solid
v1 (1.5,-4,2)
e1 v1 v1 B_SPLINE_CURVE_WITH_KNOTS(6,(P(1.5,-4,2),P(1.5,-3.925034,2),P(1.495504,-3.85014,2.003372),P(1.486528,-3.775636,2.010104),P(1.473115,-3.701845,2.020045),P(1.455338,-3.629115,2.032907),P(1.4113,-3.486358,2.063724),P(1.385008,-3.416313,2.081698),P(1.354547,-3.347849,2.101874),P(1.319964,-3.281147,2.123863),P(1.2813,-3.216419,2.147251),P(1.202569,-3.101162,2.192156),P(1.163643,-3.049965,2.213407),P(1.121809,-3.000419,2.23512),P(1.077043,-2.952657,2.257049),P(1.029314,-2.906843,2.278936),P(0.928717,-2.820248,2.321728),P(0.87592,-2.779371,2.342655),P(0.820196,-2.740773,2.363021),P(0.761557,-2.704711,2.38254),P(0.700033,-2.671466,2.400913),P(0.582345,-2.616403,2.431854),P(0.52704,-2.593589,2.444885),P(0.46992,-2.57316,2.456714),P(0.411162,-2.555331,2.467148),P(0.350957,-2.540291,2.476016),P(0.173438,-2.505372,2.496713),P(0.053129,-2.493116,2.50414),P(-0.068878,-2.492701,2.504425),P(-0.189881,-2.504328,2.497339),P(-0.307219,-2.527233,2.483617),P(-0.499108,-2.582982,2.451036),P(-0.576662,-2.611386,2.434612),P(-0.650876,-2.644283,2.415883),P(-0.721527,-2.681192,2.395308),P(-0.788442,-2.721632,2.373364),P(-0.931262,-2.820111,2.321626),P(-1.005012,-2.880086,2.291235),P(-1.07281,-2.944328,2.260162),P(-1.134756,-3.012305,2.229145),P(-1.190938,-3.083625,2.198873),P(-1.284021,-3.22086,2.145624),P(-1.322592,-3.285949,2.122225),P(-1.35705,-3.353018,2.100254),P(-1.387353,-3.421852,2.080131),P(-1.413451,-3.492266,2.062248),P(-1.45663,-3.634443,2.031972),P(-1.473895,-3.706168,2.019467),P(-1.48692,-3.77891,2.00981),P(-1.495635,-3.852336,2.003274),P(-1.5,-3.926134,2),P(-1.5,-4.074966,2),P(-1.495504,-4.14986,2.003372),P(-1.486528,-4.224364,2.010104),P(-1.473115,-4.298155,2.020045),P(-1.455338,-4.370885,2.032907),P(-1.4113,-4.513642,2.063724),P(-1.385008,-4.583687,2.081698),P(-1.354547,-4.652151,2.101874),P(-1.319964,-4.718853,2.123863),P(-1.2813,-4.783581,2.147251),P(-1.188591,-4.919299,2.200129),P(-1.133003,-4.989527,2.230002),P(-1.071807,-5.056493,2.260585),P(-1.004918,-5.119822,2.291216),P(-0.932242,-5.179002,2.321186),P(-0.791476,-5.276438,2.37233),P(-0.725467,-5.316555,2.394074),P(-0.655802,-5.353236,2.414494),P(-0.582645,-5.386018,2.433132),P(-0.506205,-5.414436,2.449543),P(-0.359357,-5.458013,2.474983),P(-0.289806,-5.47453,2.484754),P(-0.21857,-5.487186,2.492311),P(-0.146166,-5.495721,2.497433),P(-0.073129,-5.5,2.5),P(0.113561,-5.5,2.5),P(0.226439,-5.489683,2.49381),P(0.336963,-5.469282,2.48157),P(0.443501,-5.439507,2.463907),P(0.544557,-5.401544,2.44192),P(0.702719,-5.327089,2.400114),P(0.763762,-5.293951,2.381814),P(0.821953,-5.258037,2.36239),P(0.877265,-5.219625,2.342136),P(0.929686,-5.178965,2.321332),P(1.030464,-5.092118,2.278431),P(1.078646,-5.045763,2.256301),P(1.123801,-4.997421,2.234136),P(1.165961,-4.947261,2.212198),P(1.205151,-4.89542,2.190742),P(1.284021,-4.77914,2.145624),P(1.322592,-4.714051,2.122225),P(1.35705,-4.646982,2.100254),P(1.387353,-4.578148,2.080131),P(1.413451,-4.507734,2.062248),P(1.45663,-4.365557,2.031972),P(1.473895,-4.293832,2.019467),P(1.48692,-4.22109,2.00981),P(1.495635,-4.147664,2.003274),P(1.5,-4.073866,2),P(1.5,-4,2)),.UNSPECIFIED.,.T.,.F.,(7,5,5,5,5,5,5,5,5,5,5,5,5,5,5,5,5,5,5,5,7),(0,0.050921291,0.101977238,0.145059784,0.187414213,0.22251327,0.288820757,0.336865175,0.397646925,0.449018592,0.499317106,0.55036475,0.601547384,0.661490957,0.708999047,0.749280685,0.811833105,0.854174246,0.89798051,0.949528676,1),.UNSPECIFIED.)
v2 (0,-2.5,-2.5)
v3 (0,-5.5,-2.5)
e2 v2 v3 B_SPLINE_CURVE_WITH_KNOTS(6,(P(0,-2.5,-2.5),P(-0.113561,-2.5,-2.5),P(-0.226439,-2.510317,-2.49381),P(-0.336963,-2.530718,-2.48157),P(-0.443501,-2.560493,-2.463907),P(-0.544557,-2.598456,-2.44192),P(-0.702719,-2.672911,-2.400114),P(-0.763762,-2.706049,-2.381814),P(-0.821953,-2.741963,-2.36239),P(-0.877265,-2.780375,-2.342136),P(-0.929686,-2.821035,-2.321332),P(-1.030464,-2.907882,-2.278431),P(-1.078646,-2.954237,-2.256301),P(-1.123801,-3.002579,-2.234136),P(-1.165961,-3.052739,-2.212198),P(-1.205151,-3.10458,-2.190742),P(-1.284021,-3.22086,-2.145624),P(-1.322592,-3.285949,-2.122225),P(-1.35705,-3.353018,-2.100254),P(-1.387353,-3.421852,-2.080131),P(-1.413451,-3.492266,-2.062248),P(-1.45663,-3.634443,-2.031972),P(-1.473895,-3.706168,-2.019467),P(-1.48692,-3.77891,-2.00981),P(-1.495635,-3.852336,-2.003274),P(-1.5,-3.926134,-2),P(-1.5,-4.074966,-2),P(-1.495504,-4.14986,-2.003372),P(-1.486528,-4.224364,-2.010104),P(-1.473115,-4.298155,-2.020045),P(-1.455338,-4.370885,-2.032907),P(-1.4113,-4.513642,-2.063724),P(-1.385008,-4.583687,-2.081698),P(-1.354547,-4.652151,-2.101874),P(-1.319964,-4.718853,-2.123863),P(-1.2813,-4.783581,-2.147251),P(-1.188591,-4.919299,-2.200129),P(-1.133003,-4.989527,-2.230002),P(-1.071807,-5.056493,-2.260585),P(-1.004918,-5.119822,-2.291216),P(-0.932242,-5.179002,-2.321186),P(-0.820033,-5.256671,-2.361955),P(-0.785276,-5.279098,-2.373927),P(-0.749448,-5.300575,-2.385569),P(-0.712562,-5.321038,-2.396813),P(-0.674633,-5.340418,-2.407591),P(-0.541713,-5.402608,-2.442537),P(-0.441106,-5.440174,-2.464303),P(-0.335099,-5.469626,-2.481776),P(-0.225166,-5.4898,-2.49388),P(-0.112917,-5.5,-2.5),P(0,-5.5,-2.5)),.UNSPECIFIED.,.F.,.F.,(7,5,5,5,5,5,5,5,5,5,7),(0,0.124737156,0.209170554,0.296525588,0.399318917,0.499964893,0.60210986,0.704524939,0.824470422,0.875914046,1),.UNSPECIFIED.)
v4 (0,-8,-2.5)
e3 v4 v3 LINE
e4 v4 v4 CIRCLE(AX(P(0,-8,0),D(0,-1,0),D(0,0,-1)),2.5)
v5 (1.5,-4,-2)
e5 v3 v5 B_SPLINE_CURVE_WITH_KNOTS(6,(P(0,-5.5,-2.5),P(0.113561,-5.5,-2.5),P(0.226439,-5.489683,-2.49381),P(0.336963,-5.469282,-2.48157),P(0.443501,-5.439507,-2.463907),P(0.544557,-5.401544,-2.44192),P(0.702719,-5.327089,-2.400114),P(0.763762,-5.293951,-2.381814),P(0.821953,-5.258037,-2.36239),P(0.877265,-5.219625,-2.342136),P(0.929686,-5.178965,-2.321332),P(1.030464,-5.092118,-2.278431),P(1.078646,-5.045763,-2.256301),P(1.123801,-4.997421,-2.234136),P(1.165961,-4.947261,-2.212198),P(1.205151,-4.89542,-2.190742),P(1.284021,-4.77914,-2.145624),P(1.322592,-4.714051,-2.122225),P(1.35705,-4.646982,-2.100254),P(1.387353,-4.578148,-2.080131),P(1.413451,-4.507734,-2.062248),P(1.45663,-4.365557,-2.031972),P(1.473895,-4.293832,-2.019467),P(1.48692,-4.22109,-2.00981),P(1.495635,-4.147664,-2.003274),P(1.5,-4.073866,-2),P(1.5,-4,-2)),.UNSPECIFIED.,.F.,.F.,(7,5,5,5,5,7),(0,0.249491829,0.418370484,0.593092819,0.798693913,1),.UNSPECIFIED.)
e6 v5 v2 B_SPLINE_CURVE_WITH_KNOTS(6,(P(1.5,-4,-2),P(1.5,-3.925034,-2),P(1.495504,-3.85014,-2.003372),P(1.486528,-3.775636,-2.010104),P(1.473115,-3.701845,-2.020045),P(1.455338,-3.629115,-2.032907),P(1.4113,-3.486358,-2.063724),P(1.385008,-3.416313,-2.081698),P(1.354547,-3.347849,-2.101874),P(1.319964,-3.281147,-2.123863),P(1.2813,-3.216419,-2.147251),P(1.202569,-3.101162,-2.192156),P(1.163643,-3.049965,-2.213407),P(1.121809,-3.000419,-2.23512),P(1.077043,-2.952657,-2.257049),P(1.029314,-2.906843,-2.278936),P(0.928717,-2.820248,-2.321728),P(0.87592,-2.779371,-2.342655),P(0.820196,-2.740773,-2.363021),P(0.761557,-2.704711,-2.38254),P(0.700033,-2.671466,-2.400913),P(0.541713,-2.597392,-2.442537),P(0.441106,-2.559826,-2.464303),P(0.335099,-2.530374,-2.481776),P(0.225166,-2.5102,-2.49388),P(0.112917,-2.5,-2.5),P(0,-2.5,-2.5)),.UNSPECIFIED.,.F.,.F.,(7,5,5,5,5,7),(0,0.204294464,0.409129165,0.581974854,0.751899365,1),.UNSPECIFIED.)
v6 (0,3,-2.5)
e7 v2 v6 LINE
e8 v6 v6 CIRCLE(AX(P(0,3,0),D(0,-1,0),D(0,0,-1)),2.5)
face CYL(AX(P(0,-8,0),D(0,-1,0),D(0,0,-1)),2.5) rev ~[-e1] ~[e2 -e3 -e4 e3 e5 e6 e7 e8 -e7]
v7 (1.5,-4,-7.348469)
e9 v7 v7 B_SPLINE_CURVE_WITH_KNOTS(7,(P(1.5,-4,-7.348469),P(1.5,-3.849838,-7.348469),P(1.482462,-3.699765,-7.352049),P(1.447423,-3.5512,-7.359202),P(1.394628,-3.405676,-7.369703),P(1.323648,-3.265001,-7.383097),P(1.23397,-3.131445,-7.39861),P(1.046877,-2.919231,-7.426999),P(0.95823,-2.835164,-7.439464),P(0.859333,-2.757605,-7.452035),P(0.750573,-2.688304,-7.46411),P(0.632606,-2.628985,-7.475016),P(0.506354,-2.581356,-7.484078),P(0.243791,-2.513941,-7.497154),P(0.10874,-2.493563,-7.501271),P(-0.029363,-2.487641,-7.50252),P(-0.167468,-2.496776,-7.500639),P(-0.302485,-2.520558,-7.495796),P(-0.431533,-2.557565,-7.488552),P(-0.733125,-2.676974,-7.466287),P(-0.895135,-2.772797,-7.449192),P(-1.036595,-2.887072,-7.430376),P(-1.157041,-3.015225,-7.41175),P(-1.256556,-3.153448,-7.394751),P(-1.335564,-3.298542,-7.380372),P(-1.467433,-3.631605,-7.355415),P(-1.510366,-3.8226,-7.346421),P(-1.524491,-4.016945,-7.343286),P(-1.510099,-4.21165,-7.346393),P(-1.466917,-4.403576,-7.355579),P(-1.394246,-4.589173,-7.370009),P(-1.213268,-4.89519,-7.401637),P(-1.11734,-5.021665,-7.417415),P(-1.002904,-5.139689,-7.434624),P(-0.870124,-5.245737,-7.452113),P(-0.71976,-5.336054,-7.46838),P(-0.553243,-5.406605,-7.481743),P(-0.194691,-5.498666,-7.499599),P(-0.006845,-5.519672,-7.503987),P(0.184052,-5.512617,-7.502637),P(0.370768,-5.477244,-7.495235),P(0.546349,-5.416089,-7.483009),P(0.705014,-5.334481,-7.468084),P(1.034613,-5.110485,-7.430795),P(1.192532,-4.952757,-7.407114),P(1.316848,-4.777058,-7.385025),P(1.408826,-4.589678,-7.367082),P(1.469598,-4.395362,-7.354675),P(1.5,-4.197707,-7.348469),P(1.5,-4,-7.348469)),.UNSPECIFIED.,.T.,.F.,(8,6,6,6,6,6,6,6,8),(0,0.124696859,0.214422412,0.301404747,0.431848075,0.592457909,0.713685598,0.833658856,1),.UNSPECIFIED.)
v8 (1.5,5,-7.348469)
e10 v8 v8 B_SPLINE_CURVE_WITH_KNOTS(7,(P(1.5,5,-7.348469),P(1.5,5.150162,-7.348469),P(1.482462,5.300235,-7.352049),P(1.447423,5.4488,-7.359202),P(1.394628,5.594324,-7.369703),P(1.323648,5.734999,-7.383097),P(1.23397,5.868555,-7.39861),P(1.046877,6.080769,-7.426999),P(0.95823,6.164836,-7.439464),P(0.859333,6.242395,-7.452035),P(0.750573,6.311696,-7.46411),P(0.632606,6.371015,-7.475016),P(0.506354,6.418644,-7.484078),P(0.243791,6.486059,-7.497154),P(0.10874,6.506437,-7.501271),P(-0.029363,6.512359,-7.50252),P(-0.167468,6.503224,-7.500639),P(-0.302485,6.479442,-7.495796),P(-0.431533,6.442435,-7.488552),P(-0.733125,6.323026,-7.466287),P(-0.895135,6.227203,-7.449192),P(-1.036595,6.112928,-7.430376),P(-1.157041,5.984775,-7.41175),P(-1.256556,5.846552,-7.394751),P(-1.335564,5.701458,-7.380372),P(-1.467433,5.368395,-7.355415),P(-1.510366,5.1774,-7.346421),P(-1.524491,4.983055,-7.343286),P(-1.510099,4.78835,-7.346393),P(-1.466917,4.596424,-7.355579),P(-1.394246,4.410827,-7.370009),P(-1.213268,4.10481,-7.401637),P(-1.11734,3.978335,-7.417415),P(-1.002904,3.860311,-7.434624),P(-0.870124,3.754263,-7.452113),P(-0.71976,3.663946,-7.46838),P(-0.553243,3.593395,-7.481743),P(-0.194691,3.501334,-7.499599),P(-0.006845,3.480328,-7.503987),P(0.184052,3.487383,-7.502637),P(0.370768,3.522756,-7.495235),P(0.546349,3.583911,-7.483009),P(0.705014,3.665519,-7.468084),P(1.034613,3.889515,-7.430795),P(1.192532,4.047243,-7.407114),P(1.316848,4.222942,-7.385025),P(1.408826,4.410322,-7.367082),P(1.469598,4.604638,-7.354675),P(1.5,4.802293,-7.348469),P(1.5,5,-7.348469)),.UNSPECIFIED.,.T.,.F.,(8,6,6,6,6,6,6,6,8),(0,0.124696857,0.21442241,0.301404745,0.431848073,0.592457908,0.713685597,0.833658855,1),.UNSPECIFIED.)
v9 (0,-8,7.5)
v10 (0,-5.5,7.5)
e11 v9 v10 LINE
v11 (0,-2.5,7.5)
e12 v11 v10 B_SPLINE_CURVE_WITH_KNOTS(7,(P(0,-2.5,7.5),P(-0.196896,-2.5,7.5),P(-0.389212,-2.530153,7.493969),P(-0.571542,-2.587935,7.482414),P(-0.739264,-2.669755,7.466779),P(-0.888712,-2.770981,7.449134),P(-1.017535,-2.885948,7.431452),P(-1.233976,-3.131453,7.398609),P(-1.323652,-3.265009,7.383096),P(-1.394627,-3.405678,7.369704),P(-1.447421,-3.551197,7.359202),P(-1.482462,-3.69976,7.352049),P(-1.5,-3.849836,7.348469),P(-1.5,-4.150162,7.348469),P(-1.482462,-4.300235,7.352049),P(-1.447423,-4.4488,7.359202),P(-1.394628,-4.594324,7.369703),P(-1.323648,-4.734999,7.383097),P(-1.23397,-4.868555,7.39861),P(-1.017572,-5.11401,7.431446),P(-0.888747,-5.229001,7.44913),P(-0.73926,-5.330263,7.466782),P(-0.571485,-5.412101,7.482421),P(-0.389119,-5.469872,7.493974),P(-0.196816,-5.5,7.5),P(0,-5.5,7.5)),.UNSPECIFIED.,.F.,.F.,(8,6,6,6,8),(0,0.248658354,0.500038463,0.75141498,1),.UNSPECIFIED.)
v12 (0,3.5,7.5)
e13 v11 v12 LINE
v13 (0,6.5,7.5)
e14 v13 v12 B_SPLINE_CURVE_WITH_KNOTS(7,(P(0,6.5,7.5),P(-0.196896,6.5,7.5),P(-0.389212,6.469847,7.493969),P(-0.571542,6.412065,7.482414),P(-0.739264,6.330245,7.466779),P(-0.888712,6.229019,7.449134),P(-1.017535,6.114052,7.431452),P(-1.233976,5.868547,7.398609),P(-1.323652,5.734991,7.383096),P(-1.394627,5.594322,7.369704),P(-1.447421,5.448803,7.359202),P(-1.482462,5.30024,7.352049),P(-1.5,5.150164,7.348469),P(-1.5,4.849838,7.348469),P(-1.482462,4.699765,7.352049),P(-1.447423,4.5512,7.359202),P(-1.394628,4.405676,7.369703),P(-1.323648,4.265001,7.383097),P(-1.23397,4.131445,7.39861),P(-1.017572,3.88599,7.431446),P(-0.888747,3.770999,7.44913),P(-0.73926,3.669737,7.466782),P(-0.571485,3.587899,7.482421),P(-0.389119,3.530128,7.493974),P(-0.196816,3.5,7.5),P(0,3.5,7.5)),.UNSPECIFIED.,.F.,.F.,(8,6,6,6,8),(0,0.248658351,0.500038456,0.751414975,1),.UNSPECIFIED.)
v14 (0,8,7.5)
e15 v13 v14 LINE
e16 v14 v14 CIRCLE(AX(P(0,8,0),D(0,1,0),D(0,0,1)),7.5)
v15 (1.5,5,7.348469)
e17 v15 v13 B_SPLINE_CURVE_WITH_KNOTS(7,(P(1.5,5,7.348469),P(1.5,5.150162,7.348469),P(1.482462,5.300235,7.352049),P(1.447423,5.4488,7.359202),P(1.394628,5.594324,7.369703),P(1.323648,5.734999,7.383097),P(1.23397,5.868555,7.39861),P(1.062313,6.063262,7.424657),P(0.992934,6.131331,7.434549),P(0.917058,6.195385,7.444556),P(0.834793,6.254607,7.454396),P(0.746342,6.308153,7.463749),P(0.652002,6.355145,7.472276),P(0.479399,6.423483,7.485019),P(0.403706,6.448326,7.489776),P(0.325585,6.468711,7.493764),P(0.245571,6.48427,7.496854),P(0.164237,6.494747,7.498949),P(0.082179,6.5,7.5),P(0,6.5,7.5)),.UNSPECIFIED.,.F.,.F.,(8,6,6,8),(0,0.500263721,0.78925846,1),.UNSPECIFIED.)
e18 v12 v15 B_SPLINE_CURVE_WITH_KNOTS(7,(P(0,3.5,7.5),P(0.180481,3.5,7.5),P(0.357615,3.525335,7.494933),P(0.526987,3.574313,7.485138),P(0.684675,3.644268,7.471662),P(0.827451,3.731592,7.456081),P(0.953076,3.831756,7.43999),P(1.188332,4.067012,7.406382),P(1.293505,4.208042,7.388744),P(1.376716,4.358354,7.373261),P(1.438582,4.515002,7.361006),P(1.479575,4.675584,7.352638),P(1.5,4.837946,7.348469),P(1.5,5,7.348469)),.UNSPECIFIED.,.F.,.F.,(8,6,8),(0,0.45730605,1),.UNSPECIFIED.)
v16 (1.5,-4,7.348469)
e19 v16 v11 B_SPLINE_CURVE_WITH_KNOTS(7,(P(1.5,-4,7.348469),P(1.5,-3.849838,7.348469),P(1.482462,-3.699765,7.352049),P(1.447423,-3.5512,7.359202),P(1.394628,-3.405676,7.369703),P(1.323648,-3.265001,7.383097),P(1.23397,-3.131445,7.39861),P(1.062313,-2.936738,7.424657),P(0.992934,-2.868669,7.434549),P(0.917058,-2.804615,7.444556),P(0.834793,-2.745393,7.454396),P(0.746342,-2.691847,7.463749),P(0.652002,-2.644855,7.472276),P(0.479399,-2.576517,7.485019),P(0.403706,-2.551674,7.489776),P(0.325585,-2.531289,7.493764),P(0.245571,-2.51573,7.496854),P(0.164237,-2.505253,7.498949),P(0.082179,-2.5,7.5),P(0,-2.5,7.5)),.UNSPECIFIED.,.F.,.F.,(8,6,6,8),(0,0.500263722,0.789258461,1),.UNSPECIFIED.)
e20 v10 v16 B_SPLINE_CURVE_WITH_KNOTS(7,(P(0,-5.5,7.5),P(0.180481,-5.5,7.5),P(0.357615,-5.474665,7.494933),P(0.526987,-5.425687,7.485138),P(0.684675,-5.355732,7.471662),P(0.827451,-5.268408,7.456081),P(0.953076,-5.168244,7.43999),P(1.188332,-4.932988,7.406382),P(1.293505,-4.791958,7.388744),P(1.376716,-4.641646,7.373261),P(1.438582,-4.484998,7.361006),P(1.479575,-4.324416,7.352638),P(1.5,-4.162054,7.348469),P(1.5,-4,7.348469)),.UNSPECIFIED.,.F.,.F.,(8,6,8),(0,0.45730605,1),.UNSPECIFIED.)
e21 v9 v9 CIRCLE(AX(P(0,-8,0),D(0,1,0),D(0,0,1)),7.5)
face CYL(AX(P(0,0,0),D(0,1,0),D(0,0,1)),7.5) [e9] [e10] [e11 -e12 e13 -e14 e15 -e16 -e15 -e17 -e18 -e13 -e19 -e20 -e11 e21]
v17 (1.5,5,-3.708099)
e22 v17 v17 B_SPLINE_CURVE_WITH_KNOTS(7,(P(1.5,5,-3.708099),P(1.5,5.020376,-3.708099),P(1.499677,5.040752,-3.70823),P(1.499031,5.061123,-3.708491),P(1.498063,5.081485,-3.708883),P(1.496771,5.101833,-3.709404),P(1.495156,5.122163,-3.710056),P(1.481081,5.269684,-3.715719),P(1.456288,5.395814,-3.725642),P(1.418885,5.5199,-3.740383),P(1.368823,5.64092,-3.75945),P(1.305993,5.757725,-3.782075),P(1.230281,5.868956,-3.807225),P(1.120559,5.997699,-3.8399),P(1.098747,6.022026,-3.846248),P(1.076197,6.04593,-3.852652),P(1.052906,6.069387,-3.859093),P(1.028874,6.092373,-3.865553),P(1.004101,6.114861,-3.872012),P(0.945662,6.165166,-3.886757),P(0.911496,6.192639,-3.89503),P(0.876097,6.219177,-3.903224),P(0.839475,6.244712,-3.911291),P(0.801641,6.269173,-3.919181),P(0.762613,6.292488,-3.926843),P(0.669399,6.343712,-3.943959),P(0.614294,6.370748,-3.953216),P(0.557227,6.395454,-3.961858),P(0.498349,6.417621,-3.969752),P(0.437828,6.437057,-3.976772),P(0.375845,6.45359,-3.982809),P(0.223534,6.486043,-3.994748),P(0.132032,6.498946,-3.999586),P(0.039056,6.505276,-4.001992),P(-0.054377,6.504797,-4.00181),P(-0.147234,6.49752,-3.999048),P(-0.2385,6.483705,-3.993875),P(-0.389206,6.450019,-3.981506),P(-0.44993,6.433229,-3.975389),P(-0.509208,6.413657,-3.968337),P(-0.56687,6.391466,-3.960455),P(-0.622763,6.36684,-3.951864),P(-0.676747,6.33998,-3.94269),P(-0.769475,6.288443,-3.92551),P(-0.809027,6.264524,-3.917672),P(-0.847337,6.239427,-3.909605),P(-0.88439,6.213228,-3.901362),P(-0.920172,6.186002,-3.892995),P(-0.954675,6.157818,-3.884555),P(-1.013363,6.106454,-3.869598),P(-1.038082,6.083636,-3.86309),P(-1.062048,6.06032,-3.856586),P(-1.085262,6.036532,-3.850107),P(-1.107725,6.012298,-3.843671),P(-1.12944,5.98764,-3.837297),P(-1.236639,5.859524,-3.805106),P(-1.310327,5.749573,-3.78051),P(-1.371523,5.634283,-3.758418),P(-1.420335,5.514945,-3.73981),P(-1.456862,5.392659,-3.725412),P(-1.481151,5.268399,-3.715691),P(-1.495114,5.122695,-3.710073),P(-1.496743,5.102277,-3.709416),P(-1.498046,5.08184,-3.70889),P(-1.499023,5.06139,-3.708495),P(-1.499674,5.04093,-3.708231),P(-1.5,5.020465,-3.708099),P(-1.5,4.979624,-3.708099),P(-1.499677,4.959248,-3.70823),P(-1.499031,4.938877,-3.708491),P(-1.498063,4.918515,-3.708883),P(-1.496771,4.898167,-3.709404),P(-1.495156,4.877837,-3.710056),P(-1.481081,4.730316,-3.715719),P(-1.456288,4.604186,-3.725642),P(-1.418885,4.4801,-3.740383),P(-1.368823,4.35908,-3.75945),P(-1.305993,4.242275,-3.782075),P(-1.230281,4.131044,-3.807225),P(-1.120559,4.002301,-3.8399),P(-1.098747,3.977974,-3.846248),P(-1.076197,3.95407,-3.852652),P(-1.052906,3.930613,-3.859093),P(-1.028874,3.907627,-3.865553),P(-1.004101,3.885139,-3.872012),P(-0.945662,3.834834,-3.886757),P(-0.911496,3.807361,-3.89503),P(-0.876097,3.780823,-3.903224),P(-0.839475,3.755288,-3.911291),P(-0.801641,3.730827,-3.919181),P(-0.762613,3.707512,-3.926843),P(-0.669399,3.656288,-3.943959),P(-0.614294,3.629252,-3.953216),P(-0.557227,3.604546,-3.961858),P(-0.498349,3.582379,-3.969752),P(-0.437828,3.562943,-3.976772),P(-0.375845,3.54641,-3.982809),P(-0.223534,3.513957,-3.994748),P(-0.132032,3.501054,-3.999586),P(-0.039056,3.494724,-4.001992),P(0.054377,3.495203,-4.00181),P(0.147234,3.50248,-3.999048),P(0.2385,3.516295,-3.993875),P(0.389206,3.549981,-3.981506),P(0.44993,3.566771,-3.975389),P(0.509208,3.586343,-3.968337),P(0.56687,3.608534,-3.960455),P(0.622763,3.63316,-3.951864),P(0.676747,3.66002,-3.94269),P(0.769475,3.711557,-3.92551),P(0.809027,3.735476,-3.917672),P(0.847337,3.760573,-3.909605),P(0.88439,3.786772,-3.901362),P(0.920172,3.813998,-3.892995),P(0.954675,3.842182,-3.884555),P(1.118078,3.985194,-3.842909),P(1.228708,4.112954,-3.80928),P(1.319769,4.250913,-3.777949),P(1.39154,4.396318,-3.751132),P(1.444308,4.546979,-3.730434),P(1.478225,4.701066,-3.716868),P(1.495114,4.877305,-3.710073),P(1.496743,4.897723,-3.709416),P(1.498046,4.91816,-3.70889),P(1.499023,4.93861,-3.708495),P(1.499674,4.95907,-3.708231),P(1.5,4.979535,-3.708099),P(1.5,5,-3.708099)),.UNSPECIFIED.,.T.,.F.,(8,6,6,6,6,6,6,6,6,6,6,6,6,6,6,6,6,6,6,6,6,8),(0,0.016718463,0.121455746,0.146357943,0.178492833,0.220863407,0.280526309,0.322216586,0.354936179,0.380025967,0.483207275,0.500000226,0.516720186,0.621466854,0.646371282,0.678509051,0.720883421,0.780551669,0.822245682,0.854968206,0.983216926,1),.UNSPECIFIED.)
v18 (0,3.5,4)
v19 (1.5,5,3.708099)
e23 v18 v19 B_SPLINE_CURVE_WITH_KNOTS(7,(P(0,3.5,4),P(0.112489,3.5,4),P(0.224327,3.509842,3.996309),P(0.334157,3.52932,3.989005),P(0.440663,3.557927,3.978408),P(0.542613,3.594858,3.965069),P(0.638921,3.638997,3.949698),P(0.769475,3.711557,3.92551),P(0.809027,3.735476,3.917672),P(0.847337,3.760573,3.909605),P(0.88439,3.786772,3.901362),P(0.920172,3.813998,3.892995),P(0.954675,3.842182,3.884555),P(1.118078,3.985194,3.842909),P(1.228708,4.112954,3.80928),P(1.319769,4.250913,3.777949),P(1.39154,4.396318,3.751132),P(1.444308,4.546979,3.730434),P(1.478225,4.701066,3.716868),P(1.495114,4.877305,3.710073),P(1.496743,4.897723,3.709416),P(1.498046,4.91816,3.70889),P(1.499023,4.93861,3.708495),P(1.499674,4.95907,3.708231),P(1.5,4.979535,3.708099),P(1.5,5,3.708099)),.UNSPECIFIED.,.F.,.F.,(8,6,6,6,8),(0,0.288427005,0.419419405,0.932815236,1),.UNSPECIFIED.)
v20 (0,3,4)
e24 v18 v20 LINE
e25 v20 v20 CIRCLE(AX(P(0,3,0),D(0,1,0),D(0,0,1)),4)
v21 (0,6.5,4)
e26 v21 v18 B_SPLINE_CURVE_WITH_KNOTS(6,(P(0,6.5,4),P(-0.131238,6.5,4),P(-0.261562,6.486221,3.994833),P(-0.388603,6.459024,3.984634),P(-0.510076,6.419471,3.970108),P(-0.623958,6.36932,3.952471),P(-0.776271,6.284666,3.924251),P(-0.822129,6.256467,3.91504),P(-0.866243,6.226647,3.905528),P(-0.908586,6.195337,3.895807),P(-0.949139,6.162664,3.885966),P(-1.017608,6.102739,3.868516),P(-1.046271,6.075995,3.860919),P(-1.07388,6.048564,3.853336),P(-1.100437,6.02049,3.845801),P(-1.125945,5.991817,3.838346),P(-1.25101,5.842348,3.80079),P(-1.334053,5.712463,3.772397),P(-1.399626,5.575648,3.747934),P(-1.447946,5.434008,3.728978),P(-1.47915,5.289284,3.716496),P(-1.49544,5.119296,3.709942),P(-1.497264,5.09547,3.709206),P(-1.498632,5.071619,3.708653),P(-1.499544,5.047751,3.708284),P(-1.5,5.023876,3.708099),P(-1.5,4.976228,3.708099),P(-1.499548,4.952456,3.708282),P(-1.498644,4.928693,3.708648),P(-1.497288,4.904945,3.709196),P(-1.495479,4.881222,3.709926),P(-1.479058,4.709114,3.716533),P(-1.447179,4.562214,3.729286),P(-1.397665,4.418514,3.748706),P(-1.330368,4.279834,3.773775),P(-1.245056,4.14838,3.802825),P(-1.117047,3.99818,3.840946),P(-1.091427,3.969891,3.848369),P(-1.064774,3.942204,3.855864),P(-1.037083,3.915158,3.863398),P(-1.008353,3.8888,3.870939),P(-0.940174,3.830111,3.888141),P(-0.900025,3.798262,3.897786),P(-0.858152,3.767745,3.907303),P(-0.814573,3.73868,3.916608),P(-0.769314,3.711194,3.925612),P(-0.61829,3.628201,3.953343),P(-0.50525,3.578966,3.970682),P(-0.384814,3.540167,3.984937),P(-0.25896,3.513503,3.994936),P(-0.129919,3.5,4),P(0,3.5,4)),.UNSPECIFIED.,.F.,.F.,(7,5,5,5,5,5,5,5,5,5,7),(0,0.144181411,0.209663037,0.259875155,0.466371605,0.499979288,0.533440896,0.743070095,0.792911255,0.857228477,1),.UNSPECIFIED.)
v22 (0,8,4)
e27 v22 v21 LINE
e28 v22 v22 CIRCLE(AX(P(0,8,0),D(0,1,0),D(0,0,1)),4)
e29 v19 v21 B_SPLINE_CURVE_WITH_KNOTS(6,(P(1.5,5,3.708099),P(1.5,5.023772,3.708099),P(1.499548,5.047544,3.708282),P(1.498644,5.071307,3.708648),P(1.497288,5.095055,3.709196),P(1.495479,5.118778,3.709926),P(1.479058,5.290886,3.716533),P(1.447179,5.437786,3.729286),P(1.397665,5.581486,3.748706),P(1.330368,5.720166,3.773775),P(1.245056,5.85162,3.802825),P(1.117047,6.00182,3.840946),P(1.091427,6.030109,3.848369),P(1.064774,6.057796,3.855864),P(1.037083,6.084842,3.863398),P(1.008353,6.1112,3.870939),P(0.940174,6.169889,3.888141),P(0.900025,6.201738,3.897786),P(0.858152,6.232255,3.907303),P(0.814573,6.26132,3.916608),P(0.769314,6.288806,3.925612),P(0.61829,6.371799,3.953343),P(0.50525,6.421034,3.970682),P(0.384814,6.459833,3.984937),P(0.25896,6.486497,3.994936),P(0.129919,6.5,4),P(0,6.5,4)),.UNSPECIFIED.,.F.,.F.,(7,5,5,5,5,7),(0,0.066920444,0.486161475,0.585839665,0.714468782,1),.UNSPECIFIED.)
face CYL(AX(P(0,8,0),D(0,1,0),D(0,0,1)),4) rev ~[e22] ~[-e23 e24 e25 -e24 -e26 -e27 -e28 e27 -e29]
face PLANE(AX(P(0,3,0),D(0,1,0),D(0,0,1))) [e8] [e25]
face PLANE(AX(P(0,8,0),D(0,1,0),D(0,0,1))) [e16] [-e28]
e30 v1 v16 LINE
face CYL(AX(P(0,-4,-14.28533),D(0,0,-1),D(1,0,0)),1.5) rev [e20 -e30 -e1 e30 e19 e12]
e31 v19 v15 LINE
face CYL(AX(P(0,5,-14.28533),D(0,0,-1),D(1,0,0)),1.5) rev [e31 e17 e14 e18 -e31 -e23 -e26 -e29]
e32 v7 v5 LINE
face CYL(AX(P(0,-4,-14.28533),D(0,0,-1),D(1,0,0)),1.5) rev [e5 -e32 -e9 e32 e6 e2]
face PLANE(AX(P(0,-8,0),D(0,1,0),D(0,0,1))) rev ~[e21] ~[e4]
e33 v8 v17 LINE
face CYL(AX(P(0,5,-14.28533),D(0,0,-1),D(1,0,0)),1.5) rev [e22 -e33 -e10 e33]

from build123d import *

# Parameters (mm, degrees)
SKETCH1_R               = 7.5
BOSS_EXTRUDE1_DEPTH     = 8
SKETCH2_R               = 4
CUT_EXTRUDE1_DEPTH      = 5
SKETCH3_R               = 2.5
CUT_EXTRUDE2_DEPTH      = 12
CUT_EXTRUDE3_DEPTH      = 14.285330256
CUT_EXTRUDE3_DEPTH_BACK = 14.285330256
SKETCH4_R               = 1.5


with BuildPart() as part:
    # Sketch1 → Boss-Extrude1 (new, symmetric)
    with BuildSketch(Plane(origin=(0, 0, 0), x_dir=(1, 0, 0), z_dir=(0, 1, 0))):
        with Locations(Location((0, 0, 0), (0, 0, 270))):
            Circle(SKETCH1_R)
    extrude(amount=BOSS_EXTRUDE1_DEPTH, both=True)

    # Sketch2 → Cut-Extrude1 (cut)
    with BuildSketch(Plane(origin=(0, 8, 0), x_dir=(1, 0, 0), z_dir=(0, 1, 0))):
        with Locations(Location((0, 0, 0), (0, 0, 270))):
            Circle(SKETCH2_R)
    extrude(amount=-CUT_EXTRUDE1_DEPTH, mode=Mode.SUBTRACT)

    # Sketch3 → Cut-Extrude2 (cut)
    with BuildSketch(Plane.XZ.offset(8)):
        with Locations(Location((0, 0, 0), (0, 0, 270))):
            Circle(SKETCH3_R)
    extrude(amount=-CUT_EXTRUDE2_DEPTH, mode=Mode.SUBTRACT)

    # Sketch4 → Cut-Extrude3 (cut, two sides: drawn at the far end of the back side and taken through both)
    with BuildSketch(Plane.XY.offset(-CUT_EXTRUDE3_DEPTH_BACK)):
        with Locations((0, -4)):
            Circle(SKETCH4_R)
        with Locations((0, 5)):
            Circle(SKETCH4_R)
    extrude(amount=CUT_EXTRUDE3_DEPTH + CUT_EXTRUDE3_DEPTH_BACK, mode=Mode.SUBTRACT)


solid = part.part
